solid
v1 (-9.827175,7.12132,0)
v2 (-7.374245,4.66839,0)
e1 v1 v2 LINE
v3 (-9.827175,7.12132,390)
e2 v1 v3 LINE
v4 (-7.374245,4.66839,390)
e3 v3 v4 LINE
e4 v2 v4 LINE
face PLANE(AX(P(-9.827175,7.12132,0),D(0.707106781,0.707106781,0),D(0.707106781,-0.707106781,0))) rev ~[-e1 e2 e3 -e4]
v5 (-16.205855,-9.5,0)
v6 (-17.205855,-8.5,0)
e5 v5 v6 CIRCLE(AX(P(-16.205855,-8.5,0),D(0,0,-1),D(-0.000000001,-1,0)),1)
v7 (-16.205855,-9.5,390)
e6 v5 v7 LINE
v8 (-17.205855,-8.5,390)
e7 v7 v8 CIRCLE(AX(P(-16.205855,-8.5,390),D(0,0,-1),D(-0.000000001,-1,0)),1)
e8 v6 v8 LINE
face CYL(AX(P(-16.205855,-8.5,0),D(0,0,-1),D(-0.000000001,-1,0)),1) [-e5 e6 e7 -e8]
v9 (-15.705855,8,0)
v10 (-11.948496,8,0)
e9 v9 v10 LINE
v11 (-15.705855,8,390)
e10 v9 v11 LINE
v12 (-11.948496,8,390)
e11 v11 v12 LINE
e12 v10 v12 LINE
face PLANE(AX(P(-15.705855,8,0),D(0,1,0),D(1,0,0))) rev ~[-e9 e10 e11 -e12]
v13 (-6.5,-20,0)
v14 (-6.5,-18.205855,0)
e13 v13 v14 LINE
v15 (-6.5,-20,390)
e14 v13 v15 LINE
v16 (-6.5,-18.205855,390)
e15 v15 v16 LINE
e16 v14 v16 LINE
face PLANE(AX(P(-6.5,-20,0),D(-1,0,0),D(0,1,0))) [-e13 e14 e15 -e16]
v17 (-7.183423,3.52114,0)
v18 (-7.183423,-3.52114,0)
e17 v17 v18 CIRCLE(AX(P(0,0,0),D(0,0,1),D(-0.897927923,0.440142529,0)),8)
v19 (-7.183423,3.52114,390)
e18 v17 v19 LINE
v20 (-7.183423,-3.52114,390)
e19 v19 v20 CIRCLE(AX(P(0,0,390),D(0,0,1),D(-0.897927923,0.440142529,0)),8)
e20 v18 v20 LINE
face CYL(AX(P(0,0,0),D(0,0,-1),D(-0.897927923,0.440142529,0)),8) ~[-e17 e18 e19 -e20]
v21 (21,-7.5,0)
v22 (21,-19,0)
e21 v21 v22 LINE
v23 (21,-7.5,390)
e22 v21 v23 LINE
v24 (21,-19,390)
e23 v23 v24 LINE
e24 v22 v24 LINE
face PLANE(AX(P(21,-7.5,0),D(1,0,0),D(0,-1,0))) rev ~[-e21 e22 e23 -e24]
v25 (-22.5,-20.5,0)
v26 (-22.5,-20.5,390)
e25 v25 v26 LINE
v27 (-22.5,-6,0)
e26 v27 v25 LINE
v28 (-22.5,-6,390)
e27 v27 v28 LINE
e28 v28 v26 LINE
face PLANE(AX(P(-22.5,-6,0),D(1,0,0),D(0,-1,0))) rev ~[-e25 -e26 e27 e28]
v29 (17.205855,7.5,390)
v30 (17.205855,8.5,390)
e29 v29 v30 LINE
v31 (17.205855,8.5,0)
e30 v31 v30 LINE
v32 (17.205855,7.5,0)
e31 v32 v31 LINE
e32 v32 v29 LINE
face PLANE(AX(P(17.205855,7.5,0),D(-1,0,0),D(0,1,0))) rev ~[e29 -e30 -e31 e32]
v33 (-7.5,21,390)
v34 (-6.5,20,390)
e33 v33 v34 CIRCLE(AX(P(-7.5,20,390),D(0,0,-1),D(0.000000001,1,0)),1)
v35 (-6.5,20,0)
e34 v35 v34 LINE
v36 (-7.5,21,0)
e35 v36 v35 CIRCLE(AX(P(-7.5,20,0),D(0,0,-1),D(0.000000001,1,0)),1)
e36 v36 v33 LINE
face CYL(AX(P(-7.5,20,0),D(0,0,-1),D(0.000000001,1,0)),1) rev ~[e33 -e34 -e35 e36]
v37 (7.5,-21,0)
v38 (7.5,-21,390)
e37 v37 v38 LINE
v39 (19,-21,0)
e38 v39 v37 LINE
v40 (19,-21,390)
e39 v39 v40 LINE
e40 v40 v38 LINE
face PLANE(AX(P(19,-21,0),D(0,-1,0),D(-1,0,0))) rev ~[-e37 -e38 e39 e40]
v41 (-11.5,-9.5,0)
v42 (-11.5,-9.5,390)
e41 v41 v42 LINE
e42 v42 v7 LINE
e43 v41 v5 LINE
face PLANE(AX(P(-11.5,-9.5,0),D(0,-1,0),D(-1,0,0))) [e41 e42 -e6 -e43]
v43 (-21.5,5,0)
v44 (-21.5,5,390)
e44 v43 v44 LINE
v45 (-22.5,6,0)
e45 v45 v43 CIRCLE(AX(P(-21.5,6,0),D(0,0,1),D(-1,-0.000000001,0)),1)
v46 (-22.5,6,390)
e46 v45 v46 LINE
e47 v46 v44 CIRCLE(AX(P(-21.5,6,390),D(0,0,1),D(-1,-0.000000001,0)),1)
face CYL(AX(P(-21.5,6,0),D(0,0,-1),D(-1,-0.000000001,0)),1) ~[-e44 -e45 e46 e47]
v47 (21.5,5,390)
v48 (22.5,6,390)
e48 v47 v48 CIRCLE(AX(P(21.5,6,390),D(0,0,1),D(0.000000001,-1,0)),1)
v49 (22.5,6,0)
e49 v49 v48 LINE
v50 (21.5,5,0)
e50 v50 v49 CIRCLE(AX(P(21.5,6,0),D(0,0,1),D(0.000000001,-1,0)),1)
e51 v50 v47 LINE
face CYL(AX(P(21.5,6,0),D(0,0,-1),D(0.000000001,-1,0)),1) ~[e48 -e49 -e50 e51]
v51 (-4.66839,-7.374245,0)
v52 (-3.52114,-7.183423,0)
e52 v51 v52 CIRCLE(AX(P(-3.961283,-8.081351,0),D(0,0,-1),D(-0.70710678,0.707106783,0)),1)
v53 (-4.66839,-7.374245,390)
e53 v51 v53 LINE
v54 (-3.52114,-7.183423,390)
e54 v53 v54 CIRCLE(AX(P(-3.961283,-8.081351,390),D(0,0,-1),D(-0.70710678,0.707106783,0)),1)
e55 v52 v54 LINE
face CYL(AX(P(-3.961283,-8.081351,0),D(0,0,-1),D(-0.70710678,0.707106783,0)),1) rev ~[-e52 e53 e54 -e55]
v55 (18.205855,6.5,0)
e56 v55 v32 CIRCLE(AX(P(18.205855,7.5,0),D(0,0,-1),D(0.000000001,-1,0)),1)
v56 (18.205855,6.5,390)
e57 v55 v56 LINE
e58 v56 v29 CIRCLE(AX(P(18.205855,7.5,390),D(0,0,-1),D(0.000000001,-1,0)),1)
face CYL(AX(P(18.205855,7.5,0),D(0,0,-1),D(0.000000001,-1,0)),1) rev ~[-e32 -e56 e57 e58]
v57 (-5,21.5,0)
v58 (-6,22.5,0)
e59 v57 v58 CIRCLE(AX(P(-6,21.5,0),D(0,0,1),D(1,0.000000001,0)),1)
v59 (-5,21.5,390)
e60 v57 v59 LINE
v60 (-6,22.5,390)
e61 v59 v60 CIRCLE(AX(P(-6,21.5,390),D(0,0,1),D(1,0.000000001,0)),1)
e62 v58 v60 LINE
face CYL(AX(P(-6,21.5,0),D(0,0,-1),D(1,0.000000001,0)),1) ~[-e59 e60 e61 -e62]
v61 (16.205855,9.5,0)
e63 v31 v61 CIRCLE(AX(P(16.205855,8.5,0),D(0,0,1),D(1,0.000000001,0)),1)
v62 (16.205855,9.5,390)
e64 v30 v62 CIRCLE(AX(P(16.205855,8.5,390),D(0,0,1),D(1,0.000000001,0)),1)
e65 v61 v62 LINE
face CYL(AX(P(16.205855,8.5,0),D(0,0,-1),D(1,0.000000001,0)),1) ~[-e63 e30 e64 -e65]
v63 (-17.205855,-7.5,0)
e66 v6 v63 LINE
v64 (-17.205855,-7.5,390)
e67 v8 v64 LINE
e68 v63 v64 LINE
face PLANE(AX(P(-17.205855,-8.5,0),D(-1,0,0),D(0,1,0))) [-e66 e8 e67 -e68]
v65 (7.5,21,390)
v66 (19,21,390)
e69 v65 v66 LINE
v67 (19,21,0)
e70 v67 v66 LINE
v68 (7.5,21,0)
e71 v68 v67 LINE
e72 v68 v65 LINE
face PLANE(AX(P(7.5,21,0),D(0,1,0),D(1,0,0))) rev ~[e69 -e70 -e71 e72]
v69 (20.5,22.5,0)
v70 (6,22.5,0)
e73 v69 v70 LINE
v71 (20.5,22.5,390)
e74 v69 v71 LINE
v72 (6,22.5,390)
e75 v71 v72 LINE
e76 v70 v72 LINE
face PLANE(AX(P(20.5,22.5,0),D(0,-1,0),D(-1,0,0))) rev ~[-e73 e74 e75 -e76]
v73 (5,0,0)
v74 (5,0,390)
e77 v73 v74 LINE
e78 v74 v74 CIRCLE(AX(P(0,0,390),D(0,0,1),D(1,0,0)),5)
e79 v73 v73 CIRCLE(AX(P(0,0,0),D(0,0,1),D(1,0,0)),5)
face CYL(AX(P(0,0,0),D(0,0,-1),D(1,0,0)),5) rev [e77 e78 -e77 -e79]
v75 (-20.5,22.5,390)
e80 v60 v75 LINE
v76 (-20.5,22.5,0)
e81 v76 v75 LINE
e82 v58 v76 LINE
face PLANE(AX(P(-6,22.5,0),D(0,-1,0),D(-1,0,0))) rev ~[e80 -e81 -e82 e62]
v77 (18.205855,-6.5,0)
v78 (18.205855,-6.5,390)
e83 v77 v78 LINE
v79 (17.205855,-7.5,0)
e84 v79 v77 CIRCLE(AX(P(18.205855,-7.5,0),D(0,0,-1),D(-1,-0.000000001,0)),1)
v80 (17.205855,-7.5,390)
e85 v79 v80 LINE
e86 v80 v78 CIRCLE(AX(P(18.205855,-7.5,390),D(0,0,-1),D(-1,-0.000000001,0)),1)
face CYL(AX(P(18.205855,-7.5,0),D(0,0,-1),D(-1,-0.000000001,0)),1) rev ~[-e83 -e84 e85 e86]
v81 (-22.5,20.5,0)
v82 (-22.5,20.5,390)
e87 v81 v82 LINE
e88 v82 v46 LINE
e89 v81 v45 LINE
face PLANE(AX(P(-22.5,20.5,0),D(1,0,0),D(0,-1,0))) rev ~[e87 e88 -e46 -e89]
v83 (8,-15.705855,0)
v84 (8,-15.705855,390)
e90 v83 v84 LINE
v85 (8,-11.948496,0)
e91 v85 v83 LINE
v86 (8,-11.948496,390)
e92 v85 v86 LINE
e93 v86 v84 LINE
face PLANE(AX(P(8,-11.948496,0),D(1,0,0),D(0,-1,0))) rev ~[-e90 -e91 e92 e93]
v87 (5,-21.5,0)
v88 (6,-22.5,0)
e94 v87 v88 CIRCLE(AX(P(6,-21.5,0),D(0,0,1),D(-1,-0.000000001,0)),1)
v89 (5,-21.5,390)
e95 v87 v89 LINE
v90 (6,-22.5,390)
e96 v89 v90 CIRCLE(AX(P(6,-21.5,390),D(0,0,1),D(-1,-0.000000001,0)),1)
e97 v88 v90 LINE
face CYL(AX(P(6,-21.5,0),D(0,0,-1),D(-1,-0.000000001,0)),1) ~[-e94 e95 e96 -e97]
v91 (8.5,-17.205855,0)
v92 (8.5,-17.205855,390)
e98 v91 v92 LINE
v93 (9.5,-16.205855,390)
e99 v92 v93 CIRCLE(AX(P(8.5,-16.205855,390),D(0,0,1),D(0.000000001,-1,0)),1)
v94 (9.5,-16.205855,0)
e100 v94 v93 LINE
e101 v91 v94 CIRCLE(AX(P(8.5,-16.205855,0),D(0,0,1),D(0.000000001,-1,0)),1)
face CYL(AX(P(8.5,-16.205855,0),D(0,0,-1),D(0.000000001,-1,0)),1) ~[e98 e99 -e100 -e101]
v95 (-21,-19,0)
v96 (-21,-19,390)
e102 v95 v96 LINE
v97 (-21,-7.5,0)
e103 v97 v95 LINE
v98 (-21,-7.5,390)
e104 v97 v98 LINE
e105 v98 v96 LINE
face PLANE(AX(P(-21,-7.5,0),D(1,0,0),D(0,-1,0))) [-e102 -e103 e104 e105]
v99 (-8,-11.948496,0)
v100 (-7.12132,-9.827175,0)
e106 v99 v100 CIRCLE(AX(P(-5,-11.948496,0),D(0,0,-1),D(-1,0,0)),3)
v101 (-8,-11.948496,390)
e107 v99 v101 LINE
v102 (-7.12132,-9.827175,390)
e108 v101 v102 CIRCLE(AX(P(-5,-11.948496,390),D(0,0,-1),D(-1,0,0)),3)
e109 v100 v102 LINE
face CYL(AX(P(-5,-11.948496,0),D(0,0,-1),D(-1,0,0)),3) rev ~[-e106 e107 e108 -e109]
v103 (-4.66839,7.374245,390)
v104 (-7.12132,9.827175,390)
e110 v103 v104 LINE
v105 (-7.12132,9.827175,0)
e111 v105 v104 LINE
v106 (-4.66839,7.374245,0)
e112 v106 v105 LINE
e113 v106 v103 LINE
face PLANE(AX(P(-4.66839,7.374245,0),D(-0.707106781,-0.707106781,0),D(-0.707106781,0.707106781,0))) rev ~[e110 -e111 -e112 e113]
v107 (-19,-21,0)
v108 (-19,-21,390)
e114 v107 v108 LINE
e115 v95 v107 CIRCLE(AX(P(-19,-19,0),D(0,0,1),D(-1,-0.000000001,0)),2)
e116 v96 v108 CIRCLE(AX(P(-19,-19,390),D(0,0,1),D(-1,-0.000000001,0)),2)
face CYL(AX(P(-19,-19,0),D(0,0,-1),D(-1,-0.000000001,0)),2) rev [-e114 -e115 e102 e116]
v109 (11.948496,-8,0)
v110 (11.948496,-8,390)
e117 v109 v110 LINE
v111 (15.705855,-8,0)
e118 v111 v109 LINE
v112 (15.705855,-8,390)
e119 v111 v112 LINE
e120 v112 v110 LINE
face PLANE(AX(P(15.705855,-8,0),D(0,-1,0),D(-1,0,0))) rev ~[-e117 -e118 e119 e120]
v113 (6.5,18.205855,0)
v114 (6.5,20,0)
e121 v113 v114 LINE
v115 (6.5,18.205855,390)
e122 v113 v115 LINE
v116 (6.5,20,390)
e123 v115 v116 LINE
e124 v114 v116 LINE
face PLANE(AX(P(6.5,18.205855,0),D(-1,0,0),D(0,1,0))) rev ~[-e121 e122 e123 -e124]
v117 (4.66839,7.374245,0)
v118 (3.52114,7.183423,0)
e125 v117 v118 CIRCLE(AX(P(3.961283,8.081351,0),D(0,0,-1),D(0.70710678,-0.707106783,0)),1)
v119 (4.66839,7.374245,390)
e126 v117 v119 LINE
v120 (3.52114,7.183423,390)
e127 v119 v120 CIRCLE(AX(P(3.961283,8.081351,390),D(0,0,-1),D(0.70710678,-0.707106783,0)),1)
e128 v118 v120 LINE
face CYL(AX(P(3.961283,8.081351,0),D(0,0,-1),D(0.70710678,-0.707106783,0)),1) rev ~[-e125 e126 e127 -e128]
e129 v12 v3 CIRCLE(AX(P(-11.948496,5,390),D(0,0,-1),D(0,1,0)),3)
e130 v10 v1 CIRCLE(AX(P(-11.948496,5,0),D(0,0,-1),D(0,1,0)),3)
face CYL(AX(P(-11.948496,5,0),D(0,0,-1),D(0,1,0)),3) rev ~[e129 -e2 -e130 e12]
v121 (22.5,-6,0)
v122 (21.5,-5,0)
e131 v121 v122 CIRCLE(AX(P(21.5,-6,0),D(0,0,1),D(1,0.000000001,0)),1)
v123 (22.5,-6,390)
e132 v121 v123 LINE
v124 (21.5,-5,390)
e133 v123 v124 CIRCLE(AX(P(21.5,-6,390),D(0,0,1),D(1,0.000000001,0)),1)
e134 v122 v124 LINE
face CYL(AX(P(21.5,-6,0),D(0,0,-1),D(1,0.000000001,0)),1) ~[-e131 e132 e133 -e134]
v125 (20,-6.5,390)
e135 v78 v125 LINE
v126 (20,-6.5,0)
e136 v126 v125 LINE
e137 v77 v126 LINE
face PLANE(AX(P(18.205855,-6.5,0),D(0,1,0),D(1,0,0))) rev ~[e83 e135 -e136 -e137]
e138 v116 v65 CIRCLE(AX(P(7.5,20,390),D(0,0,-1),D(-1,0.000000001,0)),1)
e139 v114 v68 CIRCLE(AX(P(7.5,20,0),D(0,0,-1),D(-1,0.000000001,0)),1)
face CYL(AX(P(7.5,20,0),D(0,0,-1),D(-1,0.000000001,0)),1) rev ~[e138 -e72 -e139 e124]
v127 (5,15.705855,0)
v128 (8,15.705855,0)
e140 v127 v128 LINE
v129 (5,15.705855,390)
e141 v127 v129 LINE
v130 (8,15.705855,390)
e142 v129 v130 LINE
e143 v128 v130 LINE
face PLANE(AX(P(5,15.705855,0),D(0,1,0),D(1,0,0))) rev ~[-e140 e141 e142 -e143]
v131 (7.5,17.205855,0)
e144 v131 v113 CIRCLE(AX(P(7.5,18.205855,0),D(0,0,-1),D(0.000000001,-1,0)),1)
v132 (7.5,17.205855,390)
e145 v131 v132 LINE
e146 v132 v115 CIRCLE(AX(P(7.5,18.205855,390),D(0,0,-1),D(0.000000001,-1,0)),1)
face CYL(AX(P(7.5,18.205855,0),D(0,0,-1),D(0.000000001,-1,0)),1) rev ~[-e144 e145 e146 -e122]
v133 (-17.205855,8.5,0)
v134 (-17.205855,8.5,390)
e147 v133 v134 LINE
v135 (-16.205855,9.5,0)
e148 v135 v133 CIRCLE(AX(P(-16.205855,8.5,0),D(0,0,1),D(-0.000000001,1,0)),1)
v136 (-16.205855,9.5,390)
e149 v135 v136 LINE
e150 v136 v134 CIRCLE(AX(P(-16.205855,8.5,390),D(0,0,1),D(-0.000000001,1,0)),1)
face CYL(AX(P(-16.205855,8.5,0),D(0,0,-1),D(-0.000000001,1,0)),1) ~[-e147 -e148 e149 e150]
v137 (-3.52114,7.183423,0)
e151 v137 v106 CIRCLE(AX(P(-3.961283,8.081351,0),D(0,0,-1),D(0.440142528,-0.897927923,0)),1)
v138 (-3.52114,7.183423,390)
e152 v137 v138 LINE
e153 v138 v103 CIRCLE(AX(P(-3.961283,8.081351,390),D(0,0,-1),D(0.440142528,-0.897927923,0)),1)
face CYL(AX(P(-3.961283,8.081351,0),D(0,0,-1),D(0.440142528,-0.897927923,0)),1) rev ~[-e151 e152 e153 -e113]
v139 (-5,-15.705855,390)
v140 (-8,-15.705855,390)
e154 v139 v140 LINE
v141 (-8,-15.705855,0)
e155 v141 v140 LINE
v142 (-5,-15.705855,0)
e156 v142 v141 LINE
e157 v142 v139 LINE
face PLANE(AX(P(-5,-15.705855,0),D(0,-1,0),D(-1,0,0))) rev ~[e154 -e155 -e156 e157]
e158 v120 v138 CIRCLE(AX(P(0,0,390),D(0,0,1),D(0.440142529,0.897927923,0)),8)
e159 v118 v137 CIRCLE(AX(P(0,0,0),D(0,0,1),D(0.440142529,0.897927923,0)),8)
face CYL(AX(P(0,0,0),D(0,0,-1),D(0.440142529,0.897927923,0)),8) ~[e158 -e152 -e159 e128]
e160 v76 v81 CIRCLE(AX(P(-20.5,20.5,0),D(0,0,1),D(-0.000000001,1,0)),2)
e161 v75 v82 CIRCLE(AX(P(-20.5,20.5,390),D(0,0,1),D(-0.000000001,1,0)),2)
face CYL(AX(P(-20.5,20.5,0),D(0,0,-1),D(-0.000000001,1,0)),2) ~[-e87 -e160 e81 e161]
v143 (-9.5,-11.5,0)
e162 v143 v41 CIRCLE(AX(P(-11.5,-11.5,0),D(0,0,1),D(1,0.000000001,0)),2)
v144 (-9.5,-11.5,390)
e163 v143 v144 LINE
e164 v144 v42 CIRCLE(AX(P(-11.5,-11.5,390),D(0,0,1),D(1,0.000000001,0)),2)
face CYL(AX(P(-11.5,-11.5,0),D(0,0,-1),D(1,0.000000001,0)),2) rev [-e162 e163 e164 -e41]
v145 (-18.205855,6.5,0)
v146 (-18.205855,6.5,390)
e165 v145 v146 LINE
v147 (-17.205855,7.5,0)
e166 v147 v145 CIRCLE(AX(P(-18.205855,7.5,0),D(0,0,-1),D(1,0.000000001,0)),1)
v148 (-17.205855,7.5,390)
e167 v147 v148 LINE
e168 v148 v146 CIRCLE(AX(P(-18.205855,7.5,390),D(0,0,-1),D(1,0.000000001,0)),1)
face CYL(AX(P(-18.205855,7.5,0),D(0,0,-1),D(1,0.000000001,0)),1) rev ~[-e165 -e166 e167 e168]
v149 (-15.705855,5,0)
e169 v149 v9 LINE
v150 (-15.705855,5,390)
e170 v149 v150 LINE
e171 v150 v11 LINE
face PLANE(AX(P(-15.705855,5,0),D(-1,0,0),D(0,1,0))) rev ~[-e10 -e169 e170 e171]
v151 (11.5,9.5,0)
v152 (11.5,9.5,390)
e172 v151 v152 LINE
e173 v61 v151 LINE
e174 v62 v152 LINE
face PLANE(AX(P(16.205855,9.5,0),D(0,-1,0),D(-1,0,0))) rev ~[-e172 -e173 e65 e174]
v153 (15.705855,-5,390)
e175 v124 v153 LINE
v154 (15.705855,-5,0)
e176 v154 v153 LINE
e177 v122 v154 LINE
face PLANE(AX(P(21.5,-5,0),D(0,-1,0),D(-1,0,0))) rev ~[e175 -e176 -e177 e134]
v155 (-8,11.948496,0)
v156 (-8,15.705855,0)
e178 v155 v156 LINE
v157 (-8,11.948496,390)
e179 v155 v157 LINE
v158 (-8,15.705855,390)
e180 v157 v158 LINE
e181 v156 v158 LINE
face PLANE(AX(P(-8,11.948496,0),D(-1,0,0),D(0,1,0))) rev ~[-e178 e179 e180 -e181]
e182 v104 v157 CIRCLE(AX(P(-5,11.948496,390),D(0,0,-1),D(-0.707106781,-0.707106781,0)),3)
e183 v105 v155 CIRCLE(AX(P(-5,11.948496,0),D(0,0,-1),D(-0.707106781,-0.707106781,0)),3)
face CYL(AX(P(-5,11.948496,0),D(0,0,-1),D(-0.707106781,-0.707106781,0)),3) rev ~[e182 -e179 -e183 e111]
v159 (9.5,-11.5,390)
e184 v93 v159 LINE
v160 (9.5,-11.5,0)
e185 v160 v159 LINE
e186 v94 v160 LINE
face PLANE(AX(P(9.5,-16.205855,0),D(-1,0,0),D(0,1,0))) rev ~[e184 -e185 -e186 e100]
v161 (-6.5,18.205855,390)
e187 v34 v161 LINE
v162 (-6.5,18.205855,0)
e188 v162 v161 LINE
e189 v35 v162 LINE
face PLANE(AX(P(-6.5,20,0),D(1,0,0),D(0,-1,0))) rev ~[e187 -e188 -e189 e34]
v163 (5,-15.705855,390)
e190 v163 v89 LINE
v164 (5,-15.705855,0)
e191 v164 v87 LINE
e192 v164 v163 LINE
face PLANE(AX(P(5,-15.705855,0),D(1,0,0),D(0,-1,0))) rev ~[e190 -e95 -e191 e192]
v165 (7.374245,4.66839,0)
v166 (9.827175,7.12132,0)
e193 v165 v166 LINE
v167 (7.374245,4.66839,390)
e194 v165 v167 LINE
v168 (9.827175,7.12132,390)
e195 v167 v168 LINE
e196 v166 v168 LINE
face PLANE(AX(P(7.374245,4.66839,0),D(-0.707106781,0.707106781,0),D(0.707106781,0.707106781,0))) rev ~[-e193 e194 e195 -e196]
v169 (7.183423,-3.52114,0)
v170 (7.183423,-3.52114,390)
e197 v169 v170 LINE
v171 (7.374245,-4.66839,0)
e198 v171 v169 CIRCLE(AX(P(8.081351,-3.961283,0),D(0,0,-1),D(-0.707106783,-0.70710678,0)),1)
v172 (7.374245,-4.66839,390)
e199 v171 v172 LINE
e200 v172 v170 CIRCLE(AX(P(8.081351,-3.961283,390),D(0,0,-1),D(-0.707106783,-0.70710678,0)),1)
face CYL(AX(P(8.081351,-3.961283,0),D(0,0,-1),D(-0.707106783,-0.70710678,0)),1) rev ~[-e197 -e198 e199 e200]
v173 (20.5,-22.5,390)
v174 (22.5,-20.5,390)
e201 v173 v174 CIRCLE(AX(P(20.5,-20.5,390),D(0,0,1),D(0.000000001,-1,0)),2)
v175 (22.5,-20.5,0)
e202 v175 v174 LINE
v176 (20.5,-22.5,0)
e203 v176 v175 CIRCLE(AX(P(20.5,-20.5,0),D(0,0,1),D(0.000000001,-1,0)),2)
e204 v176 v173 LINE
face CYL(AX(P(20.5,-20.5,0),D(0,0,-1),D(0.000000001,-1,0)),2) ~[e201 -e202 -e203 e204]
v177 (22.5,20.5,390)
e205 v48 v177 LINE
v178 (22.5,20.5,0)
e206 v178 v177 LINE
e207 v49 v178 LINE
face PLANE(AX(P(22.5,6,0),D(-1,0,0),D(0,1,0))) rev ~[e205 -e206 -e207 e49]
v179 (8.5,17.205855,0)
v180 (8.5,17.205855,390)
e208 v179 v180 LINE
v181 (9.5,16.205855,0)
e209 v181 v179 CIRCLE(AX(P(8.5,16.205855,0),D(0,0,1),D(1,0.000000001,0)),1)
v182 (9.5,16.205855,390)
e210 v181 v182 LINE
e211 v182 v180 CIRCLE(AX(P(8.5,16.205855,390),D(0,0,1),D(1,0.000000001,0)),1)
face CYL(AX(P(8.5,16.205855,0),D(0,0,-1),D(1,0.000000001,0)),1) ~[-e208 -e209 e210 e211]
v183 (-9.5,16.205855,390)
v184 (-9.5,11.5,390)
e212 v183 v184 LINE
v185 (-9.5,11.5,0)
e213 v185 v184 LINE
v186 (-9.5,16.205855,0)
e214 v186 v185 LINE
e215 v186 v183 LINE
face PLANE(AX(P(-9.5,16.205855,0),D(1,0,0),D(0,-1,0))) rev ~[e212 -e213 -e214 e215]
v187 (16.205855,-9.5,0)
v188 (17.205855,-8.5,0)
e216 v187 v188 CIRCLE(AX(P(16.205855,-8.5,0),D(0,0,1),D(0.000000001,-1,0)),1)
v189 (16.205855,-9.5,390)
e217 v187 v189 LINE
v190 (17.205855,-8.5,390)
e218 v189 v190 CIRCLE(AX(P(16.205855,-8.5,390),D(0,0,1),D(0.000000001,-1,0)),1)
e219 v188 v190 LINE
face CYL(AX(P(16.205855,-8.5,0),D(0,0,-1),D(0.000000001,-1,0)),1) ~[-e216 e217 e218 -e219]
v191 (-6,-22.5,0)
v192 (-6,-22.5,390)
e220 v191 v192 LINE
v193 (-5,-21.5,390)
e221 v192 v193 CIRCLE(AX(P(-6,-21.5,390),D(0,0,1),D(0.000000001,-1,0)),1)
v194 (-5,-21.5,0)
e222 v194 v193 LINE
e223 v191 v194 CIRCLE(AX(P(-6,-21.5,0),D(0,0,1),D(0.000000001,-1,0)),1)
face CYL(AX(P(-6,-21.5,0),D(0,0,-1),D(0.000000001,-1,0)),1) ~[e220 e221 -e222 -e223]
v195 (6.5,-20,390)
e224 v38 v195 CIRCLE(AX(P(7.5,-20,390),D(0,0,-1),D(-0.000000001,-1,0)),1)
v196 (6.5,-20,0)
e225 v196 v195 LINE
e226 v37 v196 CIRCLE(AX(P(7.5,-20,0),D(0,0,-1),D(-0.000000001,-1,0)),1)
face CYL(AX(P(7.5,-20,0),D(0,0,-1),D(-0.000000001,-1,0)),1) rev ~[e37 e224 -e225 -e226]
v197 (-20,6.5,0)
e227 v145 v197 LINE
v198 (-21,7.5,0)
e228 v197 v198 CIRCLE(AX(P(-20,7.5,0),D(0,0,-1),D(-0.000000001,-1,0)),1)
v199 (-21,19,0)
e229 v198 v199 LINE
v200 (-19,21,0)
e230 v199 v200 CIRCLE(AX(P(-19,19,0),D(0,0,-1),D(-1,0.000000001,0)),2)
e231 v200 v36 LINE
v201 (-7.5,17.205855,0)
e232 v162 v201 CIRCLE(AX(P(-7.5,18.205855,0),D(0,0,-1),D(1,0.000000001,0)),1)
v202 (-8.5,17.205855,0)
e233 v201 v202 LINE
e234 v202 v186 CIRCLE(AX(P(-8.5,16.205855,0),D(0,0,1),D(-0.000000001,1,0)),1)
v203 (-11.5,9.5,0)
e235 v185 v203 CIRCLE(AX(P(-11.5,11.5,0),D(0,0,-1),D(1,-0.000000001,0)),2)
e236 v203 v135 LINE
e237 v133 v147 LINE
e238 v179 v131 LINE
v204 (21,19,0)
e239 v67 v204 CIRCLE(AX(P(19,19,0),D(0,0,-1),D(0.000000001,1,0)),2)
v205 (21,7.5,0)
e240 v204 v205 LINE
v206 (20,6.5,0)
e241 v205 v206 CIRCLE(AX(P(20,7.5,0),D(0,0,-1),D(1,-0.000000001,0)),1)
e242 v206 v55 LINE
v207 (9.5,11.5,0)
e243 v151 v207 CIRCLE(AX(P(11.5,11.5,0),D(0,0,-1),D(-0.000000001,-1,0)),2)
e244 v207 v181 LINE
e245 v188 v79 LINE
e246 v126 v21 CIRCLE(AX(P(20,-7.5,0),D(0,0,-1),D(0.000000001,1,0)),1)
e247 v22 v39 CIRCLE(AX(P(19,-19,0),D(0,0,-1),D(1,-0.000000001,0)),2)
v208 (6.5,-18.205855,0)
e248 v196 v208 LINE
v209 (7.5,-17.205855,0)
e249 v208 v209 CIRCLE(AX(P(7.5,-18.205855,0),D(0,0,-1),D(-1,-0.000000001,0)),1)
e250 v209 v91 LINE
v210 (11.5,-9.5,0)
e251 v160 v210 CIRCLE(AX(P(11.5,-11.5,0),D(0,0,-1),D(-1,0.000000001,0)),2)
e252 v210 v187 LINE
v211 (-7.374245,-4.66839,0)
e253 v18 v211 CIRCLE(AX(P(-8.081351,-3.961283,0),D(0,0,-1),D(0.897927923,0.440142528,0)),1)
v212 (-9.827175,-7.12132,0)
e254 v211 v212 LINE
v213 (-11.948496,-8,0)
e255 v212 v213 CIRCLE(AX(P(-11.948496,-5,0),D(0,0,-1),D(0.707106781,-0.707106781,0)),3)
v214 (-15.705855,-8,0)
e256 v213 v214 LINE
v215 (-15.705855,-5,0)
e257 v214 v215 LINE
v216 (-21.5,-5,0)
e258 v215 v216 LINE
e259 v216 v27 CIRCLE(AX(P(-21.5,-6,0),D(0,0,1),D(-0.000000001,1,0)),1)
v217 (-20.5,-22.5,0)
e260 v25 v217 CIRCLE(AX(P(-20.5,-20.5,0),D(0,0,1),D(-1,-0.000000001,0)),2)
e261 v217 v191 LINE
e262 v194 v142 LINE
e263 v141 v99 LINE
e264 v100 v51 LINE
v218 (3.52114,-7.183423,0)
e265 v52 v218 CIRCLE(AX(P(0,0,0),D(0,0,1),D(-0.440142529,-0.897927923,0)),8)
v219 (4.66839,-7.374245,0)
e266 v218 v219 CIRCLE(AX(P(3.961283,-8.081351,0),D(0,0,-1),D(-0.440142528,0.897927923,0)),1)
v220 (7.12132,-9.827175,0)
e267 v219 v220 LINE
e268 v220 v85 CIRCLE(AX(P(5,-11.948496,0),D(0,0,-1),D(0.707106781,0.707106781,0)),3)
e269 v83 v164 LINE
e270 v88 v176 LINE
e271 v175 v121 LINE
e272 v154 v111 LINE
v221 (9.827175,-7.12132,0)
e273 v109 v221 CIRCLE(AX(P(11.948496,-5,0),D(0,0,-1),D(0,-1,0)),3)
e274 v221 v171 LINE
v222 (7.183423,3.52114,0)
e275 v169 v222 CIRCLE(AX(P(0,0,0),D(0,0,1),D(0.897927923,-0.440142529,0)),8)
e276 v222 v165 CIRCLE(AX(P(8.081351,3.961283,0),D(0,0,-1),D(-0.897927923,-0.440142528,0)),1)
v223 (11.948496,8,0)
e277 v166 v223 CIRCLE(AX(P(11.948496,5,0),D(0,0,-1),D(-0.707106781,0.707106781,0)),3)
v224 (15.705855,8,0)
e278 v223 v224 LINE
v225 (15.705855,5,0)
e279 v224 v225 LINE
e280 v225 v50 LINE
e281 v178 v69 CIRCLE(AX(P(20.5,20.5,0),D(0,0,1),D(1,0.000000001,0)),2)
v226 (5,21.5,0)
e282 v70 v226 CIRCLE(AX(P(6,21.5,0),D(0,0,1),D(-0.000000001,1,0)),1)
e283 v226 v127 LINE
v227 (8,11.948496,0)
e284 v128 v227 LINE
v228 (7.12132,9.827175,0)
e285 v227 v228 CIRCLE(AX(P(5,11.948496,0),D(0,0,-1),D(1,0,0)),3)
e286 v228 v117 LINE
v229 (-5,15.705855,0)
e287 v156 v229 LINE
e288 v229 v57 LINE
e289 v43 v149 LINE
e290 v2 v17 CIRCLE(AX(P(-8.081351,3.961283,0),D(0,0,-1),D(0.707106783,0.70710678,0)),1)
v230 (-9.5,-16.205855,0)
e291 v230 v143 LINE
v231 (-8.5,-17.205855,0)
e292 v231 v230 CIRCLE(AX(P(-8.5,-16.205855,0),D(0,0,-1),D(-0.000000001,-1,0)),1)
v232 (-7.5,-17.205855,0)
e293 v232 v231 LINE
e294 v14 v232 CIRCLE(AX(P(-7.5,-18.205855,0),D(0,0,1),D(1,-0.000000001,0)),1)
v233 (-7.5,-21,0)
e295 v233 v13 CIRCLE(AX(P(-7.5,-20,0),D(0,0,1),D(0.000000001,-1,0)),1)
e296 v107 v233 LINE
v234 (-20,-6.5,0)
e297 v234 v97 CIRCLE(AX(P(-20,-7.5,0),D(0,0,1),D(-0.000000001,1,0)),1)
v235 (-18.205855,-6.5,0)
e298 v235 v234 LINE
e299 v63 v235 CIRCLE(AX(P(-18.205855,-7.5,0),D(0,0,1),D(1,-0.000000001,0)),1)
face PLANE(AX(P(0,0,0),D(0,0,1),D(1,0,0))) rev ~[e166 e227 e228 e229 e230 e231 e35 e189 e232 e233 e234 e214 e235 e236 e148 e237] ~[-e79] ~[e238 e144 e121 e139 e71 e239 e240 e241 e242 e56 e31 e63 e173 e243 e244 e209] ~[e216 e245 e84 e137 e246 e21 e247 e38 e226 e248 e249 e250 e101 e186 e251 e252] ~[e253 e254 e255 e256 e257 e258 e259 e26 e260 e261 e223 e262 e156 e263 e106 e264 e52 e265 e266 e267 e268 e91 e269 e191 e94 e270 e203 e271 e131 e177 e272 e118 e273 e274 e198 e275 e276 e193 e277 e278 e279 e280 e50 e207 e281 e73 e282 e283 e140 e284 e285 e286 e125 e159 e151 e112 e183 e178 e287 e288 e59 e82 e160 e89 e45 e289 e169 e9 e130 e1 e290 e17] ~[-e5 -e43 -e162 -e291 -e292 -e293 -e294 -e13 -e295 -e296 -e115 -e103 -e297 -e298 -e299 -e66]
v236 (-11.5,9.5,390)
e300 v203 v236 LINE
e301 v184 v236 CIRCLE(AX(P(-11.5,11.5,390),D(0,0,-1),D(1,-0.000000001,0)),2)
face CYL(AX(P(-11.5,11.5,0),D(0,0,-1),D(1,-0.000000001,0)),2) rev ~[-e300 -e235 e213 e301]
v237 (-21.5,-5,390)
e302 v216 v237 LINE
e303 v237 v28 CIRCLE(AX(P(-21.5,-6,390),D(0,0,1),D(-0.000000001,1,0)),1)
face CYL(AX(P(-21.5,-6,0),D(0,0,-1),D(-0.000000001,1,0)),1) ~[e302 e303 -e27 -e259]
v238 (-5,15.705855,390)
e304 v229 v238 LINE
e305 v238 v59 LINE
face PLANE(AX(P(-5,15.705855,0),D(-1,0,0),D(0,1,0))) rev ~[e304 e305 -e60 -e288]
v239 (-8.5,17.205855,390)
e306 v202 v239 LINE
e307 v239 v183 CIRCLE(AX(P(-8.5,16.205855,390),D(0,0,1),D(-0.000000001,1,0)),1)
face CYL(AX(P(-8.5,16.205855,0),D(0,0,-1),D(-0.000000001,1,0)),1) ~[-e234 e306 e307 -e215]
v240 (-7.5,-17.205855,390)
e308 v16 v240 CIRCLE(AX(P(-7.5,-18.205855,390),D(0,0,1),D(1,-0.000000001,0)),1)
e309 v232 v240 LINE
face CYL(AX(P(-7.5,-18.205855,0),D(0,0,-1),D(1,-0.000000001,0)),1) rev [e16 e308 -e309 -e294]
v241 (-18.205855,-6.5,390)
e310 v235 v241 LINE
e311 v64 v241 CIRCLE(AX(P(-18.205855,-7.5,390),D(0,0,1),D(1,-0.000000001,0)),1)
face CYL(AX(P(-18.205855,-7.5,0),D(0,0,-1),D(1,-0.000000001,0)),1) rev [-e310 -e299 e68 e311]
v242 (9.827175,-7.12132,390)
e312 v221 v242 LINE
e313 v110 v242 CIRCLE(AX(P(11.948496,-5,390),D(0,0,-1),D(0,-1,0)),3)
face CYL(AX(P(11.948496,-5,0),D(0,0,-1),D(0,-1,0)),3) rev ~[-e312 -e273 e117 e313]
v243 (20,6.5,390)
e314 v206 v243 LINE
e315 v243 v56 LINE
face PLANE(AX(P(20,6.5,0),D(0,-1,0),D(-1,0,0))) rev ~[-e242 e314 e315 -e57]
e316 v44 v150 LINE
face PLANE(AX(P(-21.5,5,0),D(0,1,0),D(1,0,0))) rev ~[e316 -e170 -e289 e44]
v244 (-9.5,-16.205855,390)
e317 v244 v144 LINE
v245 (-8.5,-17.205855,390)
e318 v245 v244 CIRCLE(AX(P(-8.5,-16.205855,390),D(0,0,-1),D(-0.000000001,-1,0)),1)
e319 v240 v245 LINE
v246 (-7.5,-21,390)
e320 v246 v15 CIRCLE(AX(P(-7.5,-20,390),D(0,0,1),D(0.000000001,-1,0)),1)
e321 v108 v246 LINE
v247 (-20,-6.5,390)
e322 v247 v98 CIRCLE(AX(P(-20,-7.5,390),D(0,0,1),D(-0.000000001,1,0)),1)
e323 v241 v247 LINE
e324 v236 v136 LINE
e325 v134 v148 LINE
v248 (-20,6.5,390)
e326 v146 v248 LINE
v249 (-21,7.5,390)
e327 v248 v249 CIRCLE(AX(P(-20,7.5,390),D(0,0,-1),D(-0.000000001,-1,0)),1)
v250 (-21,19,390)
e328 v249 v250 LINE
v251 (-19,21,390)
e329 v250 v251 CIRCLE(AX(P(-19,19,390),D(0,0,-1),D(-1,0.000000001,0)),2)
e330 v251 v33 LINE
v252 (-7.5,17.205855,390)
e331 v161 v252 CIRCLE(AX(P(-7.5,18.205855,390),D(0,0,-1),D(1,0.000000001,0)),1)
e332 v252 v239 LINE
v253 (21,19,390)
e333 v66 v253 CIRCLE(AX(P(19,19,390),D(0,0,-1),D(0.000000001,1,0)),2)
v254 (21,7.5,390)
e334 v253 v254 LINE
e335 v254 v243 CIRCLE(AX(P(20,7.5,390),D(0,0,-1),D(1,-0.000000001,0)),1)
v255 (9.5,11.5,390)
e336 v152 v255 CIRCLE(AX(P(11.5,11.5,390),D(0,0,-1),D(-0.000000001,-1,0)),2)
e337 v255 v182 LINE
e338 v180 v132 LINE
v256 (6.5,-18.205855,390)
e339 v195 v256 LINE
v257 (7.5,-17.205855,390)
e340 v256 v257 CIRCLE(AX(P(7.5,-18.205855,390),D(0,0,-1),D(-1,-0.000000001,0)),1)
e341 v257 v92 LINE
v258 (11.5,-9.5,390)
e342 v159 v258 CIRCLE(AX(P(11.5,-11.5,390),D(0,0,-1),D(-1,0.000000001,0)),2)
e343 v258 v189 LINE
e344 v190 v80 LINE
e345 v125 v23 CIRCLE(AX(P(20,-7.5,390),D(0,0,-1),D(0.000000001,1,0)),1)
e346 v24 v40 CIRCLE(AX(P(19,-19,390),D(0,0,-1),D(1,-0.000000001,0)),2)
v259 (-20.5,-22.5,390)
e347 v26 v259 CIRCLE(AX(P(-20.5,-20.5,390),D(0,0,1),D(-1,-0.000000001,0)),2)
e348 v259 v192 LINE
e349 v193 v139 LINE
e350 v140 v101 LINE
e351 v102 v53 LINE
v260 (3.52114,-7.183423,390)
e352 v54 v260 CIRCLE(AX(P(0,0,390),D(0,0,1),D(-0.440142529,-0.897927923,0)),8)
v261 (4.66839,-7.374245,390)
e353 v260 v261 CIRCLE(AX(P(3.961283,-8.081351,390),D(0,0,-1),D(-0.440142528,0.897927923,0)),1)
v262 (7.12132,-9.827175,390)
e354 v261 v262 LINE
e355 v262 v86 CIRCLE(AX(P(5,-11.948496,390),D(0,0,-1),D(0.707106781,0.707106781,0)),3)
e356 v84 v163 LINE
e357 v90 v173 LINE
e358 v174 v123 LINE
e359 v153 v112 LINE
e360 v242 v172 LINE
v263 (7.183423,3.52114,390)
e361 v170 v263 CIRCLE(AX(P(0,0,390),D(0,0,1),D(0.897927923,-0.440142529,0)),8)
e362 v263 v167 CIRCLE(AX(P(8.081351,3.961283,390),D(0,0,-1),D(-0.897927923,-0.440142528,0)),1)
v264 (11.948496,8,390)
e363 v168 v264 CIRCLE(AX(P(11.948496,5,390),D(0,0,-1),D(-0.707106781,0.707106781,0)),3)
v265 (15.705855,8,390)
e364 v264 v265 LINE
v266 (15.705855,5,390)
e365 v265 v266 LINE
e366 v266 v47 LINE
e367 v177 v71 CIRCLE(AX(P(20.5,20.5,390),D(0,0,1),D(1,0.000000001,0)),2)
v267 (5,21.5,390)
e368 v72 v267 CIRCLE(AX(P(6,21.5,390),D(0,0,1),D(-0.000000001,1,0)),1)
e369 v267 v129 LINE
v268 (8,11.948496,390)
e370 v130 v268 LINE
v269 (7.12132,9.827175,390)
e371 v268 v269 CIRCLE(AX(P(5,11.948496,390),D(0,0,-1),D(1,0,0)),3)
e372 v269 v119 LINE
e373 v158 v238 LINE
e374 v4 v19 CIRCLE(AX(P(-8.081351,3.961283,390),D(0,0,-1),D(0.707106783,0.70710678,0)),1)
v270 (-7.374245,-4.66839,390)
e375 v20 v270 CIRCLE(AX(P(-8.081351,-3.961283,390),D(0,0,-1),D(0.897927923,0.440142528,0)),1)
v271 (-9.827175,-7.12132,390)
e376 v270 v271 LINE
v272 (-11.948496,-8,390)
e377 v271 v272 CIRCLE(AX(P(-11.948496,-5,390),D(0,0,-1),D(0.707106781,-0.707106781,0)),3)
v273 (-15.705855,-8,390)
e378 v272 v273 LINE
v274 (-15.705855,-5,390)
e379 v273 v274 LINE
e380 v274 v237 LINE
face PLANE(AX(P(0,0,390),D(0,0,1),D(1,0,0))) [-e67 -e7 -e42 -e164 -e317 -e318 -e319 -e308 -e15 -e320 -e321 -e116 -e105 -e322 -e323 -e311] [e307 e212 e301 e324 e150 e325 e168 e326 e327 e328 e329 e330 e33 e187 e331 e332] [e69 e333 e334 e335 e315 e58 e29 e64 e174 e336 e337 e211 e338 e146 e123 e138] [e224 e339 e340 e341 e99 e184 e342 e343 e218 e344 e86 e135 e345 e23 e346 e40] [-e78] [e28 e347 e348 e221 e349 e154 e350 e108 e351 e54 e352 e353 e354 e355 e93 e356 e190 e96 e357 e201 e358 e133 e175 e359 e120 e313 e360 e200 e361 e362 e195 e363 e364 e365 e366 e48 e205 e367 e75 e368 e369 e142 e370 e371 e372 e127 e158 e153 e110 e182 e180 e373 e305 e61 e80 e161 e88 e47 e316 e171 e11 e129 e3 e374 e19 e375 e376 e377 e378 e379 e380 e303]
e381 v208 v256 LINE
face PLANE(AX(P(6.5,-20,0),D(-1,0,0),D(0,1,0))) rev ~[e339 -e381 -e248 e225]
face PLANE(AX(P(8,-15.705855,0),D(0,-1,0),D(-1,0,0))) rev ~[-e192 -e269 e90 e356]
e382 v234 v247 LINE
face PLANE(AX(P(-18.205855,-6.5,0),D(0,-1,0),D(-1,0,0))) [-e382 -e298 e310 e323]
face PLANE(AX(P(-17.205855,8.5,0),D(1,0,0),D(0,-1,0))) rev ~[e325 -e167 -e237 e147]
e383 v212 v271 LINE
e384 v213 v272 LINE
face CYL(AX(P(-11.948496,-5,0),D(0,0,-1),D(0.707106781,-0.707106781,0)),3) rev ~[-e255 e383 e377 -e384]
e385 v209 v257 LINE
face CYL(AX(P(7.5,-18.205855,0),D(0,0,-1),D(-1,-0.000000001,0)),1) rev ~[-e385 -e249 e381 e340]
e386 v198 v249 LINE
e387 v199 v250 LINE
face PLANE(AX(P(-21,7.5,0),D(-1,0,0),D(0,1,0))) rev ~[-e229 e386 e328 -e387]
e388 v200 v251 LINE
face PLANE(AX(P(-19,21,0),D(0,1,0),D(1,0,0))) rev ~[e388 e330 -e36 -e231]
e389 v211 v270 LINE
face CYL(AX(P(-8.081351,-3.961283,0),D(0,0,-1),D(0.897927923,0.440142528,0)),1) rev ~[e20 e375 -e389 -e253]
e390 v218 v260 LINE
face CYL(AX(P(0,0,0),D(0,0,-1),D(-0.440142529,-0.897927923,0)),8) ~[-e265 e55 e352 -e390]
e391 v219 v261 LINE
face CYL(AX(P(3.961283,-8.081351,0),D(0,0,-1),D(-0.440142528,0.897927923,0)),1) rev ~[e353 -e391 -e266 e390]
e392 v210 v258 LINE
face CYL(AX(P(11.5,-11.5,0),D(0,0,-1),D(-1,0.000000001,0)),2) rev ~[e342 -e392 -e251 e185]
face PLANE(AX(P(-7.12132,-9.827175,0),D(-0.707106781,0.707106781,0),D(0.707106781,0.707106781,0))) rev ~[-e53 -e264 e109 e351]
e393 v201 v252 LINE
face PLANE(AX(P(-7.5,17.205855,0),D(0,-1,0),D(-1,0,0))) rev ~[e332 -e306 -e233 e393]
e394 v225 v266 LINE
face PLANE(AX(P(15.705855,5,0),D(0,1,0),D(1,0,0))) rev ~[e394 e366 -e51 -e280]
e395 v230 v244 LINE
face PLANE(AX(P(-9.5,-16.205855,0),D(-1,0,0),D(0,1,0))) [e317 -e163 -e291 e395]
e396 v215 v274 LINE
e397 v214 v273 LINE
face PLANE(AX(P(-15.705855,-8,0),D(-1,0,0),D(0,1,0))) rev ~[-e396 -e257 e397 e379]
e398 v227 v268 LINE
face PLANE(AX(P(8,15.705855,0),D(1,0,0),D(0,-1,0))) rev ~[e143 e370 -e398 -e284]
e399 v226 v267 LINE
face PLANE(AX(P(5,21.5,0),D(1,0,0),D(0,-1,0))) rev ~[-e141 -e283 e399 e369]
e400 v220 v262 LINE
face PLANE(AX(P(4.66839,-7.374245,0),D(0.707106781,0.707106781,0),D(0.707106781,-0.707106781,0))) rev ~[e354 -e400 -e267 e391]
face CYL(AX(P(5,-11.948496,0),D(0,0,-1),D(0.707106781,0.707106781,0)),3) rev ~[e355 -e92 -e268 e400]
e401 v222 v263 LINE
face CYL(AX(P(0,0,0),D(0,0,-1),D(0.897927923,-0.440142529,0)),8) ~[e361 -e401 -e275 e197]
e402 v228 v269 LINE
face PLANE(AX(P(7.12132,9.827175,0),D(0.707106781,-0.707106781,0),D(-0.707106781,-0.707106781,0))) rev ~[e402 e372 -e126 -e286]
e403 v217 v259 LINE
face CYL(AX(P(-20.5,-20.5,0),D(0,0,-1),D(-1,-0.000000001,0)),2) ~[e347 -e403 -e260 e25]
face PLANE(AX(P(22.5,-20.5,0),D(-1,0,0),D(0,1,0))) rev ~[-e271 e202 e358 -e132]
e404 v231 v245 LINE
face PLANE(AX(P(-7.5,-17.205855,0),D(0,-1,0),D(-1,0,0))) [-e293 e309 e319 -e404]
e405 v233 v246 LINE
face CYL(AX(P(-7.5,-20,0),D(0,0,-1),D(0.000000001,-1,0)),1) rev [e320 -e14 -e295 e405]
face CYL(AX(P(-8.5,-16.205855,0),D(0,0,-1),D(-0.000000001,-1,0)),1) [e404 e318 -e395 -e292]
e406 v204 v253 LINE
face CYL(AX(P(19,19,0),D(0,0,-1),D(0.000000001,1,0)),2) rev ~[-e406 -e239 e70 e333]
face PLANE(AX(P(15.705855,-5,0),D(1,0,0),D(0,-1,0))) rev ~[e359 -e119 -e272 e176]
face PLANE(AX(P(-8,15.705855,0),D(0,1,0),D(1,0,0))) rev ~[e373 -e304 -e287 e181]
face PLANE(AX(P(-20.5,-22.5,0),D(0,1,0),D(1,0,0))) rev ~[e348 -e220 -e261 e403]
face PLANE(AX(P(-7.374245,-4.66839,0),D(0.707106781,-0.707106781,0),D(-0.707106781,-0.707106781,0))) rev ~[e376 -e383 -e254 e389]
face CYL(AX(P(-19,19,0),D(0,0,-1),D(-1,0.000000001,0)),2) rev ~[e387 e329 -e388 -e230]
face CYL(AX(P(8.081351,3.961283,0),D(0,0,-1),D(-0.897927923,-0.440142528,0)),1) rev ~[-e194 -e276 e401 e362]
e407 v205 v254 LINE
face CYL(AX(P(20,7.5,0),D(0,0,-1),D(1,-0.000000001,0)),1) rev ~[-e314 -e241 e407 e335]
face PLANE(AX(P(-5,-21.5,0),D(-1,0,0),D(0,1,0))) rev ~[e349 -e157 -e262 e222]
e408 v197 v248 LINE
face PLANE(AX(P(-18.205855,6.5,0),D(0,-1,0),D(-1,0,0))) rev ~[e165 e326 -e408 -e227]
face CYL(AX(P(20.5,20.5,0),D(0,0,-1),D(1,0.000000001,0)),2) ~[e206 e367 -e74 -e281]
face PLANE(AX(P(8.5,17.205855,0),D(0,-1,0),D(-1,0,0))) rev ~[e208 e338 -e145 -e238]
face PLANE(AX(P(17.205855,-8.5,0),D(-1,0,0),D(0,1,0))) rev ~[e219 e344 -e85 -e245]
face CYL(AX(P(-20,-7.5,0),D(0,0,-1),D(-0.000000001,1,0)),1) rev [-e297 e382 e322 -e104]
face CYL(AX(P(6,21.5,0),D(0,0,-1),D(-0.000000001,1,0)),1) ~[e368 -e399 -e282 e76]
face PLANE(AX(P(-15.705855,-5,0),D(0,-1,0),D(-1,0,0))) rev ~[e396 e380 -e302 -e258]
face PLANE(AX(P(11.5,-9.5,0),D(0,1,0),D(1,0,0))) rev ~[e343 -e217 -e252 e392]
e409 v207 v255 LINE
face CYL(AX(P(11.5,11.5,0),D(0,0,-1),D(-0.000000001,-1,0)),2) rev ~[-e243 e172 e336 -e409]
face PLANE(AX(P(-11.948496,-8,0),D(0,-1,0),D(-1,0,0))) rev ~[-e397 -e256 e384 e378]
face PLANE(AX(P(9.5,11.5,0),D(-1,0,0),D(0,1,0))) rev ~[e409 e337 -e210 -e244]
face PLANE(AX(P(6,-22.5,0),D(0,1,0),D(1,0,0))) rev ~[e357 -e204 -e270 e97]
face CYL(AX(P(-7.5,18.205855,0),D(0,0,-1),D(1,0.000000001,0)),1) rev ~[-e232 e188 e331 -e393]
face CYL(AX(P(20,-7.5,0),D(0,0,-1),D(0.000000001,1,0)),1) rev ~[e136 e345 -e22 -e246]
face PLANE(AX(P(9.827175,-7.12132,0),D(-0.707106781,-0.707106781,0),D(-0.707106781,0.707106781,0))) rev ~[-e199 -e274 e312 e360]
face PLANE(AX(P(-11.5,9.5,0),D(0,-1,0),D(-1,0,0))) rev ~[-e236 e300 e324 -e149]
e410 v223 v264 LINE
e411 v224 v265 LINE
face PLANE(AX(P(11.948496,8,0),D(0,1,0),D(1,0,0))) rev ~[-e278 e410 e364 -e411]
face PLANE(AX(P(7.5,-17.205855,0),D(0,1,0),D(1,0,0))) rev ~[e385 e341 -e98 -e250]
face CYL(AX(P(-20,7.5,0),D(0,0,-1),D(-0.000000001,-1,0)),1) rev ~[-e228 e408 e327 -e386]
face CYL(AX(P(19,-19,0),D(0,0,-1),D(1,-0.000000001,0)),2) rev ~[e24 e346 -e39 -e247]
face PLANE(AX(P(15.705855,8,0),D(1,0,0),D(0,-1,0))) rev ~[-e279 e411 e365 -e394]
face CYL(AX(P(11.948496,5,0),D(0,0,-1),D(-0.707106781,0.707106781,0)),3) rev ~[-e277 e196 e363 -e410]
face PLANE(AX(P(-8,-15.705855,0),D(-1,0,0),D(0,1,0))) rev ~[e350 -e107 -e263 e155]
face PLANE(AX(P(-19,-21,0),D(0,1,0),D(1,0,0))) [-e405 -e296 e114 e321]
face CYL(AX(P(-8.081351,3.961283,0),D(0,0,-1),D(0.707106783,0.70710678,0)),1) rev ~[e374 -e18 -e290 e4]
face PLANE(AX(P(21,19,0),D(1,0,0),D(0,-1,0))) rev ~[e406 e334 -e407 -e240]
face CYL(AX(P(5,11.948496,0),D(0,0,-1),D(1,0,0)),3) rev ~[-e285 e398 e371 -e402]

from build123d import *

# Parameters (mm, degrees)
SKETCH1_R           = 5
BOSS_EXTRUDE1_DEPTH = 390


with BuildPart() as part:
    # Sketch1 → Boss-Extrude1 (new body)
    with BuildSketch(Plane.XY):
        with BuildLine():
            Line((-5, -15.705854984), (-8, -15.705854984))
            Line((-8, -15.705854984), (-8, -11.948495671))
            ThreePointArc((-8, -11.948495671), (-7.771638598, -10.800445374), (-7.121320344, -9.827175327))
            Line((-7.121320344, -9.827175327), (-4.66838954, -7.374244523))
            ThreePointArc((-4.66838954, -7.374244523), (-4.125357909, -7.094903463), (-3.52114023, -7.183423382))
            ThreePointArc((-3.52114023, -7.183423382), (0, -8), (3.52114023, -7.183423382))
            ThreePointArc((3.52114023, -7.183423382), (4.125357909, -7.094903463), (4.66838954, -7.374244523))
            Line((4.66838954, -7.374244523), (7.121320344, -9.827175327))
            ThreePointArc((7.121320344, -9.827175327), (7.771638598, -10.800445374), (8, -11.948495671))
            Line((8, -11.948495671), (8, -15.705854984))
            Line((8, -15.705854984), (5, -15.705854984))
            Line((5, -15.705854984), (5, -21.5))
            ThreePointArc((5, -21.5), (5.292893219, -22.207106781), (6, -22.5))
            Line((6, -22.5), (20.5, -22.5))
            ThreePointArc((20.5, -22.5), (21.914213562, -21.914213562), (22.5, -20.5))
            Line((22.5, -20.5), (22.5, -6))
            ThreePointArc((22.5, -6), (22.207106781, -5.292893219), (21.5, -5))
            Line((21.5, -5), (15.705854984, -5))
            Line((15.705854984, -5), (15.705854984, -8))
            Line((15.705854984, -8), (11.948495671, -8))
            ThreePointArc((11.948495671, -8), (10.800445374, -7.771638598), (9.827175327, -7.121320344))
            Line((9.827175327, -7.121320344), (7.374244523, -4.66838954))
            ThreePointArc((7.374244523, -4.66838954), (7.094903463, -4.125357909), (7.183423382, -3.52114023))
            ThreePointArc((7.183423382, -3.52114023), (8, 0), (7.183423382, 3.52114023))
            ThreePointArc((7.183423382, 3.52114023), (7.094903463, 4.125357909), (7.374244523, 4.66838954))
            Line((7.374244523, 4.66838954), (9.827175327, 7.121320344))
            ThreePointArc((9.827175327, 7.121320344), (10.800445374, 7.771638598), (11.948495671, 8))
            Line((11.948495671, 8), (15.705854984, 8))
            Line((15.705854984, 8), (15.705854984, 5))
            Line((15.705854984, 5), (21.5, 5))
            ThreePointArc((21.5, 5), (22.207106781, 5.292893219), (22.5, 6))
            Line((22.5, 6), (22.5, 20.5))
            ThreePointArc((22.5, 20.5), (21.914213562, 21.914213562), (20.5, 22.5))
            Line((20.5, 22.5), (6, 22.5))
            ThreePointArc((6, 22.5), (5.292893219, 22.207106781), (5, 21.5))
            Line((5, 21.5), (5, 15.705854984))
            Line((5, 15.705854984), (8, 15.705854984))
            Line((8, 15.705854984), (8, 11.948495671))
            ThreePointArc((8, 11.948495671), (7.771638598, 10.800445374), (7.121320344, 9.827175327))
            Line((7.121320344, 9.827175327), (4.66838954, 7.374244523))
            ThreePointArc((4.66838954, 7.374244523), (4.125357909, 7.094903463), (3.52114023, 7.183423382))
            ThreePointArc((3.52114023, 7.183423382), (0, 8), (-3.52114023, 7.183423382))
            ThreePointArc((-3.52114023, 7.183423382), (-4.125357909, 7.094903463), (-4.66838954, 7.374244523))
            Line((-4.66838954, 7.374244523), (-7.121320344, 9.827175327))
            ThreePointArc((-7.121320344, 9.827175327), (-7.771638598, 10.800445374), (-8, 11.948495671))
            Line((-8, 11.948495671), (-8, 15.705854984))
            Line((-8, 15.705854984), (-5, 15.705854984))
            Line((-5, 15.705854984), (-5, 21.5))
            ThreePointArc((-5, 21.5), (-5.292893219, 22.207106781), (-6, 22.5))
            Line((-6, 22.5), (-20.5, 22.5))
            ThreePointArc((-20.5, 22.5), (-21.914213562, 21.914213562), (-22.5, 20.5))
            Line((-22.5, 20.5), (-22.5, 6))
            ThreePointArc((-22.5, 6), (-22.207106781, 5.292893219), (-21.5, 5))
            Line((-21.5, 5), (-15.705854984, 5))
            Line((-15.705854984, 5), (-15.705854984, 8))
            Line((-15.705854984, 8), (-11.948495671, 8))
            ThreePointArc((-11.948495671, 8), (-10.800445374, 7.771638598), (-9.827175327, 7.121320344))
            Line((-9.827175327, 7.121320344), (-7.374244523, 4.66838954))
            ThreePointArc((-7.374244523, 4.66838954), (-7.094903463, 4.125357909), (-7.183423382, 3.52114023))
            ThreePointArc((-7.183423382, 3.52114023), (-8, 0), (-7.183423382, -3.52114023))
            ThreePointArc((-7.183423382, -3.52114023), (-7.094903463, -4.125357909), (-7.374244523, -4.66838954))
            Line((-7.374244523, -4.66838954), (-9.827175327, -7.121320344))
            ThreePointArc((-9.827175327, -7.121320344), (-10.800445374, -7.771638598), (-11.948495671, -8))
            Line((-11.948495671, -8), (-15.705854984, -8))
            Line((-15.705854984, -8), (-15.705854984, -5))
            Line((-15.705854984, -5), (-21.5, -5))
            ThreePointArc((-21.5, -5), (-22.207106781, -5.292893219), (-22.5, -6))
            Line((-22.5, -6), (-22.5, -20.5))
            ThreePointArc((-22.5, -20.5), (-21.914213562, -21.914213562), (-20.5, -22.5))
            Line((-20.5, -22.5), (-6, -22.5))
            ThreePointArc((-6, -22.5), (-5.292893219, -22.207106781), (-5, -21.5))
            Line((-5, -21.5), (-5, -15.705854984))
        make_face()
        Circle(SKETCH1_R, mode=Mode.SUBTRACT)
        with BuildLine():
            Line((-19, -21), (-7.5, -21))
            ThreePointArc((-7.5, -21), (-6.792893219, -20.707106781), (-6.5, -20))
            Line((-6.5, -20), (-6.5, -18.205854984))
            ThreePointArc((-6.5, -18.205854984), (-6.792893219, -17.498748202), (-7.5, -17.205854984))
            Line((-7.5, -17.205854984), (-8.5, -17.205854984))
            ThreePointArc((-8.5, -17.205854984), (-9.207106781, -16.912961765), (-9.5, -16.205854984))
            Line((-9.5, -16.205854984), (-9.5, -11.5))
            ThreePointArc((-9.5, -11.5), (-10.085786438, -10.085786438), (-11.5, -9.5))
            Line((-11.5, -9.5), (-16.205854984, -9.5))
            ThreePointArc((-16.205854984, -9.5), (-16.912961765, -9.207106781), (-17.205854984, -8.5))
            Line((-17.205854984, -8.5), (-17.205854984, -7.5))
            ThreePointArc((-17.205854984, -7.5), (-17.498748202, -6.792893219), (-18.205854984, -6.5))
            Line((-18.205854984, -6.5), (-20, -6.5))
            ThreePointArc((-20, -6.5), (-20.707106781, -6.792893219), (-21, -7.5))
            Line((-21, -7.5), (-21, -19))
            ThreePointArc((-21, -19), (-20.414213562, -20.414213562), (-19, -21))
        make_face(mode=Mode.SUBTRACT)
        with BuildLine():
            Line((-9.5, 16.205854984), (-9.5, 11.5))
            ThreePointArc((-9.5, 11.5), (-10.085786438, 10.085786438), (-11.5, 9.5))
            Line((-11.5, 9.5), (-16.205854984, 9.5))
            ThreePointArc((-16.205854984, 9.5), (-16.912961765, 9.207106781), (-17.205854984, 8.5))
            Line((-17.205854984, 8.5), (-17.205854984, 7.5))
            ThreePointArc((-17.205854984, 7.5), (-17.498748202, 6.792893219), (-18.205854984, 6.5))
            Line((-18.205854984, 6.5), (-20, 6.5))
            ThreePointArc((-20, 6.5), (-20.707106781, 6.792893219), (-21, 7.5))
            Line((-21, 7.5), (-21, 19))
            ThreePointArc((-21, 19), (-20.414213562, 20.414213562), (-19, 21))
            Line((-19, 21), (-7.5, 21))
            ThreePointArc((-7.5, 21), (-6.792893219, 20.707106781), (-6.5, 20))
            Line((-6.5, 20), (-6.5, 18.205854984))
            ThreePointArc((-6.5, 18.205854984), (-6.792893219, 17.498748202), (-7.5, 17.205854984))
            Line((-7.5, 17.205854984), (-8.5, 17.205854984))
            ThreePointArc((-8.5, 17.205854984), (-9.207106781, 16.912961765), (-9.5, 16.205854984))
        make_face(mode=Mode.SUBTRACT)
        with BuildLine():
            Line((16.205854984, 9.5), (11.5, 9.5))
            ThreePointArc((11.5, 9.5), (10.085786438, 10.085786438), (9.5, 11.5))
            Line((9.5, 11.5), (9.5, 16.205854984))
            ThreePointArc((9.5, 16.205854984), (9.207106781, 16.912961765), (8.5, 17.205854984))
            Line((8.5, 17.205854984), (7.5, 17.205854984))
            ThreePointArc((7.5, 17.205854984), (6.792893219, 17.498748202), (6.5, 18.205854984))
            Line((6.5, 18.205854984), (6.5, 20))
            ThreePointArc((6.5, 20), (6.792893219, 20.707106781), (7.5, 21))
            Line((7.5, 21), (19, 21))
            ThreePointArc((19, 21), (20.414213562, 20.414213562), (21, 19))
            Line((21, 19), (21, 7.5))
            ThreePointArc((21, 7.5), (20.707106781, 6.792893219), (20, 6.5))
            Line((20, 6.5), (18.205854984, 6.5))
            ThreePointArc((18.205854984, 6.5), (17.498748202, 6.792893219), (17.205854984, 7.5))
            Line((17.205854984, 7.5), (17.205854984, 8.5))
            ThreePointArc((17.205854984, 8.5), (16.912961765, 9.207106781), (16.205854984, 9.5))
        make_face(mode=Mode.SUBTRACT)
        with BuildLine():
            Line((9.5, -16.205854984), (9.5, -11.5))
            ThreePointArc((9.5, -11.5), (10.085786438, -10.085786438), (11.5, -9.5))
            Line((11.5, -9.5), (16.205854984, -9.5))
            ThreePointArc((16.205854984, -9.5), (16.912961765, -9.207106781), (17.205854984, -8.5))
            Line((17.205854984, -8.5), (17.205854984, -7.5))
            ThreePointArc((17.205854984, -7.5), (17.498748202, -6.792893219), (18.205854984, -6.5))
            Line((18.205854984, -6.5), (20, -6.5))
            ThreePointArc((20, -6.5), (20.707106781, -6.792893219), (21, -7.5))
            Line((21, -7.5), (21, -19))
            ThreePointArc((21, -19), (20.414213562, -20.414213562), (19, -21))
            Line((19, -21), (7.5, -21))
            ThreePointArc((7.5, -21), (6.792893219, -20.707106781), (6.5, -20))
            Line((6.5, -20), (6.5, -18.205854984))
            ThreePointArc((6.5, -18.205854984), (6.792893219, -17.498748202), (7.5, -17.205854984))
            Line((7.5, -17.205854984), (8.5, -17.205854984))
            ThreePointArc((8.5, -17.205854984), (9.207106781, -16.912961765), (9.5, -16.205854984))
        make_face(mode=Mode.SUBTRACT)
    extrude(amount=BOSS_EXTRUDE1_DEPTH)


solid = part.part
